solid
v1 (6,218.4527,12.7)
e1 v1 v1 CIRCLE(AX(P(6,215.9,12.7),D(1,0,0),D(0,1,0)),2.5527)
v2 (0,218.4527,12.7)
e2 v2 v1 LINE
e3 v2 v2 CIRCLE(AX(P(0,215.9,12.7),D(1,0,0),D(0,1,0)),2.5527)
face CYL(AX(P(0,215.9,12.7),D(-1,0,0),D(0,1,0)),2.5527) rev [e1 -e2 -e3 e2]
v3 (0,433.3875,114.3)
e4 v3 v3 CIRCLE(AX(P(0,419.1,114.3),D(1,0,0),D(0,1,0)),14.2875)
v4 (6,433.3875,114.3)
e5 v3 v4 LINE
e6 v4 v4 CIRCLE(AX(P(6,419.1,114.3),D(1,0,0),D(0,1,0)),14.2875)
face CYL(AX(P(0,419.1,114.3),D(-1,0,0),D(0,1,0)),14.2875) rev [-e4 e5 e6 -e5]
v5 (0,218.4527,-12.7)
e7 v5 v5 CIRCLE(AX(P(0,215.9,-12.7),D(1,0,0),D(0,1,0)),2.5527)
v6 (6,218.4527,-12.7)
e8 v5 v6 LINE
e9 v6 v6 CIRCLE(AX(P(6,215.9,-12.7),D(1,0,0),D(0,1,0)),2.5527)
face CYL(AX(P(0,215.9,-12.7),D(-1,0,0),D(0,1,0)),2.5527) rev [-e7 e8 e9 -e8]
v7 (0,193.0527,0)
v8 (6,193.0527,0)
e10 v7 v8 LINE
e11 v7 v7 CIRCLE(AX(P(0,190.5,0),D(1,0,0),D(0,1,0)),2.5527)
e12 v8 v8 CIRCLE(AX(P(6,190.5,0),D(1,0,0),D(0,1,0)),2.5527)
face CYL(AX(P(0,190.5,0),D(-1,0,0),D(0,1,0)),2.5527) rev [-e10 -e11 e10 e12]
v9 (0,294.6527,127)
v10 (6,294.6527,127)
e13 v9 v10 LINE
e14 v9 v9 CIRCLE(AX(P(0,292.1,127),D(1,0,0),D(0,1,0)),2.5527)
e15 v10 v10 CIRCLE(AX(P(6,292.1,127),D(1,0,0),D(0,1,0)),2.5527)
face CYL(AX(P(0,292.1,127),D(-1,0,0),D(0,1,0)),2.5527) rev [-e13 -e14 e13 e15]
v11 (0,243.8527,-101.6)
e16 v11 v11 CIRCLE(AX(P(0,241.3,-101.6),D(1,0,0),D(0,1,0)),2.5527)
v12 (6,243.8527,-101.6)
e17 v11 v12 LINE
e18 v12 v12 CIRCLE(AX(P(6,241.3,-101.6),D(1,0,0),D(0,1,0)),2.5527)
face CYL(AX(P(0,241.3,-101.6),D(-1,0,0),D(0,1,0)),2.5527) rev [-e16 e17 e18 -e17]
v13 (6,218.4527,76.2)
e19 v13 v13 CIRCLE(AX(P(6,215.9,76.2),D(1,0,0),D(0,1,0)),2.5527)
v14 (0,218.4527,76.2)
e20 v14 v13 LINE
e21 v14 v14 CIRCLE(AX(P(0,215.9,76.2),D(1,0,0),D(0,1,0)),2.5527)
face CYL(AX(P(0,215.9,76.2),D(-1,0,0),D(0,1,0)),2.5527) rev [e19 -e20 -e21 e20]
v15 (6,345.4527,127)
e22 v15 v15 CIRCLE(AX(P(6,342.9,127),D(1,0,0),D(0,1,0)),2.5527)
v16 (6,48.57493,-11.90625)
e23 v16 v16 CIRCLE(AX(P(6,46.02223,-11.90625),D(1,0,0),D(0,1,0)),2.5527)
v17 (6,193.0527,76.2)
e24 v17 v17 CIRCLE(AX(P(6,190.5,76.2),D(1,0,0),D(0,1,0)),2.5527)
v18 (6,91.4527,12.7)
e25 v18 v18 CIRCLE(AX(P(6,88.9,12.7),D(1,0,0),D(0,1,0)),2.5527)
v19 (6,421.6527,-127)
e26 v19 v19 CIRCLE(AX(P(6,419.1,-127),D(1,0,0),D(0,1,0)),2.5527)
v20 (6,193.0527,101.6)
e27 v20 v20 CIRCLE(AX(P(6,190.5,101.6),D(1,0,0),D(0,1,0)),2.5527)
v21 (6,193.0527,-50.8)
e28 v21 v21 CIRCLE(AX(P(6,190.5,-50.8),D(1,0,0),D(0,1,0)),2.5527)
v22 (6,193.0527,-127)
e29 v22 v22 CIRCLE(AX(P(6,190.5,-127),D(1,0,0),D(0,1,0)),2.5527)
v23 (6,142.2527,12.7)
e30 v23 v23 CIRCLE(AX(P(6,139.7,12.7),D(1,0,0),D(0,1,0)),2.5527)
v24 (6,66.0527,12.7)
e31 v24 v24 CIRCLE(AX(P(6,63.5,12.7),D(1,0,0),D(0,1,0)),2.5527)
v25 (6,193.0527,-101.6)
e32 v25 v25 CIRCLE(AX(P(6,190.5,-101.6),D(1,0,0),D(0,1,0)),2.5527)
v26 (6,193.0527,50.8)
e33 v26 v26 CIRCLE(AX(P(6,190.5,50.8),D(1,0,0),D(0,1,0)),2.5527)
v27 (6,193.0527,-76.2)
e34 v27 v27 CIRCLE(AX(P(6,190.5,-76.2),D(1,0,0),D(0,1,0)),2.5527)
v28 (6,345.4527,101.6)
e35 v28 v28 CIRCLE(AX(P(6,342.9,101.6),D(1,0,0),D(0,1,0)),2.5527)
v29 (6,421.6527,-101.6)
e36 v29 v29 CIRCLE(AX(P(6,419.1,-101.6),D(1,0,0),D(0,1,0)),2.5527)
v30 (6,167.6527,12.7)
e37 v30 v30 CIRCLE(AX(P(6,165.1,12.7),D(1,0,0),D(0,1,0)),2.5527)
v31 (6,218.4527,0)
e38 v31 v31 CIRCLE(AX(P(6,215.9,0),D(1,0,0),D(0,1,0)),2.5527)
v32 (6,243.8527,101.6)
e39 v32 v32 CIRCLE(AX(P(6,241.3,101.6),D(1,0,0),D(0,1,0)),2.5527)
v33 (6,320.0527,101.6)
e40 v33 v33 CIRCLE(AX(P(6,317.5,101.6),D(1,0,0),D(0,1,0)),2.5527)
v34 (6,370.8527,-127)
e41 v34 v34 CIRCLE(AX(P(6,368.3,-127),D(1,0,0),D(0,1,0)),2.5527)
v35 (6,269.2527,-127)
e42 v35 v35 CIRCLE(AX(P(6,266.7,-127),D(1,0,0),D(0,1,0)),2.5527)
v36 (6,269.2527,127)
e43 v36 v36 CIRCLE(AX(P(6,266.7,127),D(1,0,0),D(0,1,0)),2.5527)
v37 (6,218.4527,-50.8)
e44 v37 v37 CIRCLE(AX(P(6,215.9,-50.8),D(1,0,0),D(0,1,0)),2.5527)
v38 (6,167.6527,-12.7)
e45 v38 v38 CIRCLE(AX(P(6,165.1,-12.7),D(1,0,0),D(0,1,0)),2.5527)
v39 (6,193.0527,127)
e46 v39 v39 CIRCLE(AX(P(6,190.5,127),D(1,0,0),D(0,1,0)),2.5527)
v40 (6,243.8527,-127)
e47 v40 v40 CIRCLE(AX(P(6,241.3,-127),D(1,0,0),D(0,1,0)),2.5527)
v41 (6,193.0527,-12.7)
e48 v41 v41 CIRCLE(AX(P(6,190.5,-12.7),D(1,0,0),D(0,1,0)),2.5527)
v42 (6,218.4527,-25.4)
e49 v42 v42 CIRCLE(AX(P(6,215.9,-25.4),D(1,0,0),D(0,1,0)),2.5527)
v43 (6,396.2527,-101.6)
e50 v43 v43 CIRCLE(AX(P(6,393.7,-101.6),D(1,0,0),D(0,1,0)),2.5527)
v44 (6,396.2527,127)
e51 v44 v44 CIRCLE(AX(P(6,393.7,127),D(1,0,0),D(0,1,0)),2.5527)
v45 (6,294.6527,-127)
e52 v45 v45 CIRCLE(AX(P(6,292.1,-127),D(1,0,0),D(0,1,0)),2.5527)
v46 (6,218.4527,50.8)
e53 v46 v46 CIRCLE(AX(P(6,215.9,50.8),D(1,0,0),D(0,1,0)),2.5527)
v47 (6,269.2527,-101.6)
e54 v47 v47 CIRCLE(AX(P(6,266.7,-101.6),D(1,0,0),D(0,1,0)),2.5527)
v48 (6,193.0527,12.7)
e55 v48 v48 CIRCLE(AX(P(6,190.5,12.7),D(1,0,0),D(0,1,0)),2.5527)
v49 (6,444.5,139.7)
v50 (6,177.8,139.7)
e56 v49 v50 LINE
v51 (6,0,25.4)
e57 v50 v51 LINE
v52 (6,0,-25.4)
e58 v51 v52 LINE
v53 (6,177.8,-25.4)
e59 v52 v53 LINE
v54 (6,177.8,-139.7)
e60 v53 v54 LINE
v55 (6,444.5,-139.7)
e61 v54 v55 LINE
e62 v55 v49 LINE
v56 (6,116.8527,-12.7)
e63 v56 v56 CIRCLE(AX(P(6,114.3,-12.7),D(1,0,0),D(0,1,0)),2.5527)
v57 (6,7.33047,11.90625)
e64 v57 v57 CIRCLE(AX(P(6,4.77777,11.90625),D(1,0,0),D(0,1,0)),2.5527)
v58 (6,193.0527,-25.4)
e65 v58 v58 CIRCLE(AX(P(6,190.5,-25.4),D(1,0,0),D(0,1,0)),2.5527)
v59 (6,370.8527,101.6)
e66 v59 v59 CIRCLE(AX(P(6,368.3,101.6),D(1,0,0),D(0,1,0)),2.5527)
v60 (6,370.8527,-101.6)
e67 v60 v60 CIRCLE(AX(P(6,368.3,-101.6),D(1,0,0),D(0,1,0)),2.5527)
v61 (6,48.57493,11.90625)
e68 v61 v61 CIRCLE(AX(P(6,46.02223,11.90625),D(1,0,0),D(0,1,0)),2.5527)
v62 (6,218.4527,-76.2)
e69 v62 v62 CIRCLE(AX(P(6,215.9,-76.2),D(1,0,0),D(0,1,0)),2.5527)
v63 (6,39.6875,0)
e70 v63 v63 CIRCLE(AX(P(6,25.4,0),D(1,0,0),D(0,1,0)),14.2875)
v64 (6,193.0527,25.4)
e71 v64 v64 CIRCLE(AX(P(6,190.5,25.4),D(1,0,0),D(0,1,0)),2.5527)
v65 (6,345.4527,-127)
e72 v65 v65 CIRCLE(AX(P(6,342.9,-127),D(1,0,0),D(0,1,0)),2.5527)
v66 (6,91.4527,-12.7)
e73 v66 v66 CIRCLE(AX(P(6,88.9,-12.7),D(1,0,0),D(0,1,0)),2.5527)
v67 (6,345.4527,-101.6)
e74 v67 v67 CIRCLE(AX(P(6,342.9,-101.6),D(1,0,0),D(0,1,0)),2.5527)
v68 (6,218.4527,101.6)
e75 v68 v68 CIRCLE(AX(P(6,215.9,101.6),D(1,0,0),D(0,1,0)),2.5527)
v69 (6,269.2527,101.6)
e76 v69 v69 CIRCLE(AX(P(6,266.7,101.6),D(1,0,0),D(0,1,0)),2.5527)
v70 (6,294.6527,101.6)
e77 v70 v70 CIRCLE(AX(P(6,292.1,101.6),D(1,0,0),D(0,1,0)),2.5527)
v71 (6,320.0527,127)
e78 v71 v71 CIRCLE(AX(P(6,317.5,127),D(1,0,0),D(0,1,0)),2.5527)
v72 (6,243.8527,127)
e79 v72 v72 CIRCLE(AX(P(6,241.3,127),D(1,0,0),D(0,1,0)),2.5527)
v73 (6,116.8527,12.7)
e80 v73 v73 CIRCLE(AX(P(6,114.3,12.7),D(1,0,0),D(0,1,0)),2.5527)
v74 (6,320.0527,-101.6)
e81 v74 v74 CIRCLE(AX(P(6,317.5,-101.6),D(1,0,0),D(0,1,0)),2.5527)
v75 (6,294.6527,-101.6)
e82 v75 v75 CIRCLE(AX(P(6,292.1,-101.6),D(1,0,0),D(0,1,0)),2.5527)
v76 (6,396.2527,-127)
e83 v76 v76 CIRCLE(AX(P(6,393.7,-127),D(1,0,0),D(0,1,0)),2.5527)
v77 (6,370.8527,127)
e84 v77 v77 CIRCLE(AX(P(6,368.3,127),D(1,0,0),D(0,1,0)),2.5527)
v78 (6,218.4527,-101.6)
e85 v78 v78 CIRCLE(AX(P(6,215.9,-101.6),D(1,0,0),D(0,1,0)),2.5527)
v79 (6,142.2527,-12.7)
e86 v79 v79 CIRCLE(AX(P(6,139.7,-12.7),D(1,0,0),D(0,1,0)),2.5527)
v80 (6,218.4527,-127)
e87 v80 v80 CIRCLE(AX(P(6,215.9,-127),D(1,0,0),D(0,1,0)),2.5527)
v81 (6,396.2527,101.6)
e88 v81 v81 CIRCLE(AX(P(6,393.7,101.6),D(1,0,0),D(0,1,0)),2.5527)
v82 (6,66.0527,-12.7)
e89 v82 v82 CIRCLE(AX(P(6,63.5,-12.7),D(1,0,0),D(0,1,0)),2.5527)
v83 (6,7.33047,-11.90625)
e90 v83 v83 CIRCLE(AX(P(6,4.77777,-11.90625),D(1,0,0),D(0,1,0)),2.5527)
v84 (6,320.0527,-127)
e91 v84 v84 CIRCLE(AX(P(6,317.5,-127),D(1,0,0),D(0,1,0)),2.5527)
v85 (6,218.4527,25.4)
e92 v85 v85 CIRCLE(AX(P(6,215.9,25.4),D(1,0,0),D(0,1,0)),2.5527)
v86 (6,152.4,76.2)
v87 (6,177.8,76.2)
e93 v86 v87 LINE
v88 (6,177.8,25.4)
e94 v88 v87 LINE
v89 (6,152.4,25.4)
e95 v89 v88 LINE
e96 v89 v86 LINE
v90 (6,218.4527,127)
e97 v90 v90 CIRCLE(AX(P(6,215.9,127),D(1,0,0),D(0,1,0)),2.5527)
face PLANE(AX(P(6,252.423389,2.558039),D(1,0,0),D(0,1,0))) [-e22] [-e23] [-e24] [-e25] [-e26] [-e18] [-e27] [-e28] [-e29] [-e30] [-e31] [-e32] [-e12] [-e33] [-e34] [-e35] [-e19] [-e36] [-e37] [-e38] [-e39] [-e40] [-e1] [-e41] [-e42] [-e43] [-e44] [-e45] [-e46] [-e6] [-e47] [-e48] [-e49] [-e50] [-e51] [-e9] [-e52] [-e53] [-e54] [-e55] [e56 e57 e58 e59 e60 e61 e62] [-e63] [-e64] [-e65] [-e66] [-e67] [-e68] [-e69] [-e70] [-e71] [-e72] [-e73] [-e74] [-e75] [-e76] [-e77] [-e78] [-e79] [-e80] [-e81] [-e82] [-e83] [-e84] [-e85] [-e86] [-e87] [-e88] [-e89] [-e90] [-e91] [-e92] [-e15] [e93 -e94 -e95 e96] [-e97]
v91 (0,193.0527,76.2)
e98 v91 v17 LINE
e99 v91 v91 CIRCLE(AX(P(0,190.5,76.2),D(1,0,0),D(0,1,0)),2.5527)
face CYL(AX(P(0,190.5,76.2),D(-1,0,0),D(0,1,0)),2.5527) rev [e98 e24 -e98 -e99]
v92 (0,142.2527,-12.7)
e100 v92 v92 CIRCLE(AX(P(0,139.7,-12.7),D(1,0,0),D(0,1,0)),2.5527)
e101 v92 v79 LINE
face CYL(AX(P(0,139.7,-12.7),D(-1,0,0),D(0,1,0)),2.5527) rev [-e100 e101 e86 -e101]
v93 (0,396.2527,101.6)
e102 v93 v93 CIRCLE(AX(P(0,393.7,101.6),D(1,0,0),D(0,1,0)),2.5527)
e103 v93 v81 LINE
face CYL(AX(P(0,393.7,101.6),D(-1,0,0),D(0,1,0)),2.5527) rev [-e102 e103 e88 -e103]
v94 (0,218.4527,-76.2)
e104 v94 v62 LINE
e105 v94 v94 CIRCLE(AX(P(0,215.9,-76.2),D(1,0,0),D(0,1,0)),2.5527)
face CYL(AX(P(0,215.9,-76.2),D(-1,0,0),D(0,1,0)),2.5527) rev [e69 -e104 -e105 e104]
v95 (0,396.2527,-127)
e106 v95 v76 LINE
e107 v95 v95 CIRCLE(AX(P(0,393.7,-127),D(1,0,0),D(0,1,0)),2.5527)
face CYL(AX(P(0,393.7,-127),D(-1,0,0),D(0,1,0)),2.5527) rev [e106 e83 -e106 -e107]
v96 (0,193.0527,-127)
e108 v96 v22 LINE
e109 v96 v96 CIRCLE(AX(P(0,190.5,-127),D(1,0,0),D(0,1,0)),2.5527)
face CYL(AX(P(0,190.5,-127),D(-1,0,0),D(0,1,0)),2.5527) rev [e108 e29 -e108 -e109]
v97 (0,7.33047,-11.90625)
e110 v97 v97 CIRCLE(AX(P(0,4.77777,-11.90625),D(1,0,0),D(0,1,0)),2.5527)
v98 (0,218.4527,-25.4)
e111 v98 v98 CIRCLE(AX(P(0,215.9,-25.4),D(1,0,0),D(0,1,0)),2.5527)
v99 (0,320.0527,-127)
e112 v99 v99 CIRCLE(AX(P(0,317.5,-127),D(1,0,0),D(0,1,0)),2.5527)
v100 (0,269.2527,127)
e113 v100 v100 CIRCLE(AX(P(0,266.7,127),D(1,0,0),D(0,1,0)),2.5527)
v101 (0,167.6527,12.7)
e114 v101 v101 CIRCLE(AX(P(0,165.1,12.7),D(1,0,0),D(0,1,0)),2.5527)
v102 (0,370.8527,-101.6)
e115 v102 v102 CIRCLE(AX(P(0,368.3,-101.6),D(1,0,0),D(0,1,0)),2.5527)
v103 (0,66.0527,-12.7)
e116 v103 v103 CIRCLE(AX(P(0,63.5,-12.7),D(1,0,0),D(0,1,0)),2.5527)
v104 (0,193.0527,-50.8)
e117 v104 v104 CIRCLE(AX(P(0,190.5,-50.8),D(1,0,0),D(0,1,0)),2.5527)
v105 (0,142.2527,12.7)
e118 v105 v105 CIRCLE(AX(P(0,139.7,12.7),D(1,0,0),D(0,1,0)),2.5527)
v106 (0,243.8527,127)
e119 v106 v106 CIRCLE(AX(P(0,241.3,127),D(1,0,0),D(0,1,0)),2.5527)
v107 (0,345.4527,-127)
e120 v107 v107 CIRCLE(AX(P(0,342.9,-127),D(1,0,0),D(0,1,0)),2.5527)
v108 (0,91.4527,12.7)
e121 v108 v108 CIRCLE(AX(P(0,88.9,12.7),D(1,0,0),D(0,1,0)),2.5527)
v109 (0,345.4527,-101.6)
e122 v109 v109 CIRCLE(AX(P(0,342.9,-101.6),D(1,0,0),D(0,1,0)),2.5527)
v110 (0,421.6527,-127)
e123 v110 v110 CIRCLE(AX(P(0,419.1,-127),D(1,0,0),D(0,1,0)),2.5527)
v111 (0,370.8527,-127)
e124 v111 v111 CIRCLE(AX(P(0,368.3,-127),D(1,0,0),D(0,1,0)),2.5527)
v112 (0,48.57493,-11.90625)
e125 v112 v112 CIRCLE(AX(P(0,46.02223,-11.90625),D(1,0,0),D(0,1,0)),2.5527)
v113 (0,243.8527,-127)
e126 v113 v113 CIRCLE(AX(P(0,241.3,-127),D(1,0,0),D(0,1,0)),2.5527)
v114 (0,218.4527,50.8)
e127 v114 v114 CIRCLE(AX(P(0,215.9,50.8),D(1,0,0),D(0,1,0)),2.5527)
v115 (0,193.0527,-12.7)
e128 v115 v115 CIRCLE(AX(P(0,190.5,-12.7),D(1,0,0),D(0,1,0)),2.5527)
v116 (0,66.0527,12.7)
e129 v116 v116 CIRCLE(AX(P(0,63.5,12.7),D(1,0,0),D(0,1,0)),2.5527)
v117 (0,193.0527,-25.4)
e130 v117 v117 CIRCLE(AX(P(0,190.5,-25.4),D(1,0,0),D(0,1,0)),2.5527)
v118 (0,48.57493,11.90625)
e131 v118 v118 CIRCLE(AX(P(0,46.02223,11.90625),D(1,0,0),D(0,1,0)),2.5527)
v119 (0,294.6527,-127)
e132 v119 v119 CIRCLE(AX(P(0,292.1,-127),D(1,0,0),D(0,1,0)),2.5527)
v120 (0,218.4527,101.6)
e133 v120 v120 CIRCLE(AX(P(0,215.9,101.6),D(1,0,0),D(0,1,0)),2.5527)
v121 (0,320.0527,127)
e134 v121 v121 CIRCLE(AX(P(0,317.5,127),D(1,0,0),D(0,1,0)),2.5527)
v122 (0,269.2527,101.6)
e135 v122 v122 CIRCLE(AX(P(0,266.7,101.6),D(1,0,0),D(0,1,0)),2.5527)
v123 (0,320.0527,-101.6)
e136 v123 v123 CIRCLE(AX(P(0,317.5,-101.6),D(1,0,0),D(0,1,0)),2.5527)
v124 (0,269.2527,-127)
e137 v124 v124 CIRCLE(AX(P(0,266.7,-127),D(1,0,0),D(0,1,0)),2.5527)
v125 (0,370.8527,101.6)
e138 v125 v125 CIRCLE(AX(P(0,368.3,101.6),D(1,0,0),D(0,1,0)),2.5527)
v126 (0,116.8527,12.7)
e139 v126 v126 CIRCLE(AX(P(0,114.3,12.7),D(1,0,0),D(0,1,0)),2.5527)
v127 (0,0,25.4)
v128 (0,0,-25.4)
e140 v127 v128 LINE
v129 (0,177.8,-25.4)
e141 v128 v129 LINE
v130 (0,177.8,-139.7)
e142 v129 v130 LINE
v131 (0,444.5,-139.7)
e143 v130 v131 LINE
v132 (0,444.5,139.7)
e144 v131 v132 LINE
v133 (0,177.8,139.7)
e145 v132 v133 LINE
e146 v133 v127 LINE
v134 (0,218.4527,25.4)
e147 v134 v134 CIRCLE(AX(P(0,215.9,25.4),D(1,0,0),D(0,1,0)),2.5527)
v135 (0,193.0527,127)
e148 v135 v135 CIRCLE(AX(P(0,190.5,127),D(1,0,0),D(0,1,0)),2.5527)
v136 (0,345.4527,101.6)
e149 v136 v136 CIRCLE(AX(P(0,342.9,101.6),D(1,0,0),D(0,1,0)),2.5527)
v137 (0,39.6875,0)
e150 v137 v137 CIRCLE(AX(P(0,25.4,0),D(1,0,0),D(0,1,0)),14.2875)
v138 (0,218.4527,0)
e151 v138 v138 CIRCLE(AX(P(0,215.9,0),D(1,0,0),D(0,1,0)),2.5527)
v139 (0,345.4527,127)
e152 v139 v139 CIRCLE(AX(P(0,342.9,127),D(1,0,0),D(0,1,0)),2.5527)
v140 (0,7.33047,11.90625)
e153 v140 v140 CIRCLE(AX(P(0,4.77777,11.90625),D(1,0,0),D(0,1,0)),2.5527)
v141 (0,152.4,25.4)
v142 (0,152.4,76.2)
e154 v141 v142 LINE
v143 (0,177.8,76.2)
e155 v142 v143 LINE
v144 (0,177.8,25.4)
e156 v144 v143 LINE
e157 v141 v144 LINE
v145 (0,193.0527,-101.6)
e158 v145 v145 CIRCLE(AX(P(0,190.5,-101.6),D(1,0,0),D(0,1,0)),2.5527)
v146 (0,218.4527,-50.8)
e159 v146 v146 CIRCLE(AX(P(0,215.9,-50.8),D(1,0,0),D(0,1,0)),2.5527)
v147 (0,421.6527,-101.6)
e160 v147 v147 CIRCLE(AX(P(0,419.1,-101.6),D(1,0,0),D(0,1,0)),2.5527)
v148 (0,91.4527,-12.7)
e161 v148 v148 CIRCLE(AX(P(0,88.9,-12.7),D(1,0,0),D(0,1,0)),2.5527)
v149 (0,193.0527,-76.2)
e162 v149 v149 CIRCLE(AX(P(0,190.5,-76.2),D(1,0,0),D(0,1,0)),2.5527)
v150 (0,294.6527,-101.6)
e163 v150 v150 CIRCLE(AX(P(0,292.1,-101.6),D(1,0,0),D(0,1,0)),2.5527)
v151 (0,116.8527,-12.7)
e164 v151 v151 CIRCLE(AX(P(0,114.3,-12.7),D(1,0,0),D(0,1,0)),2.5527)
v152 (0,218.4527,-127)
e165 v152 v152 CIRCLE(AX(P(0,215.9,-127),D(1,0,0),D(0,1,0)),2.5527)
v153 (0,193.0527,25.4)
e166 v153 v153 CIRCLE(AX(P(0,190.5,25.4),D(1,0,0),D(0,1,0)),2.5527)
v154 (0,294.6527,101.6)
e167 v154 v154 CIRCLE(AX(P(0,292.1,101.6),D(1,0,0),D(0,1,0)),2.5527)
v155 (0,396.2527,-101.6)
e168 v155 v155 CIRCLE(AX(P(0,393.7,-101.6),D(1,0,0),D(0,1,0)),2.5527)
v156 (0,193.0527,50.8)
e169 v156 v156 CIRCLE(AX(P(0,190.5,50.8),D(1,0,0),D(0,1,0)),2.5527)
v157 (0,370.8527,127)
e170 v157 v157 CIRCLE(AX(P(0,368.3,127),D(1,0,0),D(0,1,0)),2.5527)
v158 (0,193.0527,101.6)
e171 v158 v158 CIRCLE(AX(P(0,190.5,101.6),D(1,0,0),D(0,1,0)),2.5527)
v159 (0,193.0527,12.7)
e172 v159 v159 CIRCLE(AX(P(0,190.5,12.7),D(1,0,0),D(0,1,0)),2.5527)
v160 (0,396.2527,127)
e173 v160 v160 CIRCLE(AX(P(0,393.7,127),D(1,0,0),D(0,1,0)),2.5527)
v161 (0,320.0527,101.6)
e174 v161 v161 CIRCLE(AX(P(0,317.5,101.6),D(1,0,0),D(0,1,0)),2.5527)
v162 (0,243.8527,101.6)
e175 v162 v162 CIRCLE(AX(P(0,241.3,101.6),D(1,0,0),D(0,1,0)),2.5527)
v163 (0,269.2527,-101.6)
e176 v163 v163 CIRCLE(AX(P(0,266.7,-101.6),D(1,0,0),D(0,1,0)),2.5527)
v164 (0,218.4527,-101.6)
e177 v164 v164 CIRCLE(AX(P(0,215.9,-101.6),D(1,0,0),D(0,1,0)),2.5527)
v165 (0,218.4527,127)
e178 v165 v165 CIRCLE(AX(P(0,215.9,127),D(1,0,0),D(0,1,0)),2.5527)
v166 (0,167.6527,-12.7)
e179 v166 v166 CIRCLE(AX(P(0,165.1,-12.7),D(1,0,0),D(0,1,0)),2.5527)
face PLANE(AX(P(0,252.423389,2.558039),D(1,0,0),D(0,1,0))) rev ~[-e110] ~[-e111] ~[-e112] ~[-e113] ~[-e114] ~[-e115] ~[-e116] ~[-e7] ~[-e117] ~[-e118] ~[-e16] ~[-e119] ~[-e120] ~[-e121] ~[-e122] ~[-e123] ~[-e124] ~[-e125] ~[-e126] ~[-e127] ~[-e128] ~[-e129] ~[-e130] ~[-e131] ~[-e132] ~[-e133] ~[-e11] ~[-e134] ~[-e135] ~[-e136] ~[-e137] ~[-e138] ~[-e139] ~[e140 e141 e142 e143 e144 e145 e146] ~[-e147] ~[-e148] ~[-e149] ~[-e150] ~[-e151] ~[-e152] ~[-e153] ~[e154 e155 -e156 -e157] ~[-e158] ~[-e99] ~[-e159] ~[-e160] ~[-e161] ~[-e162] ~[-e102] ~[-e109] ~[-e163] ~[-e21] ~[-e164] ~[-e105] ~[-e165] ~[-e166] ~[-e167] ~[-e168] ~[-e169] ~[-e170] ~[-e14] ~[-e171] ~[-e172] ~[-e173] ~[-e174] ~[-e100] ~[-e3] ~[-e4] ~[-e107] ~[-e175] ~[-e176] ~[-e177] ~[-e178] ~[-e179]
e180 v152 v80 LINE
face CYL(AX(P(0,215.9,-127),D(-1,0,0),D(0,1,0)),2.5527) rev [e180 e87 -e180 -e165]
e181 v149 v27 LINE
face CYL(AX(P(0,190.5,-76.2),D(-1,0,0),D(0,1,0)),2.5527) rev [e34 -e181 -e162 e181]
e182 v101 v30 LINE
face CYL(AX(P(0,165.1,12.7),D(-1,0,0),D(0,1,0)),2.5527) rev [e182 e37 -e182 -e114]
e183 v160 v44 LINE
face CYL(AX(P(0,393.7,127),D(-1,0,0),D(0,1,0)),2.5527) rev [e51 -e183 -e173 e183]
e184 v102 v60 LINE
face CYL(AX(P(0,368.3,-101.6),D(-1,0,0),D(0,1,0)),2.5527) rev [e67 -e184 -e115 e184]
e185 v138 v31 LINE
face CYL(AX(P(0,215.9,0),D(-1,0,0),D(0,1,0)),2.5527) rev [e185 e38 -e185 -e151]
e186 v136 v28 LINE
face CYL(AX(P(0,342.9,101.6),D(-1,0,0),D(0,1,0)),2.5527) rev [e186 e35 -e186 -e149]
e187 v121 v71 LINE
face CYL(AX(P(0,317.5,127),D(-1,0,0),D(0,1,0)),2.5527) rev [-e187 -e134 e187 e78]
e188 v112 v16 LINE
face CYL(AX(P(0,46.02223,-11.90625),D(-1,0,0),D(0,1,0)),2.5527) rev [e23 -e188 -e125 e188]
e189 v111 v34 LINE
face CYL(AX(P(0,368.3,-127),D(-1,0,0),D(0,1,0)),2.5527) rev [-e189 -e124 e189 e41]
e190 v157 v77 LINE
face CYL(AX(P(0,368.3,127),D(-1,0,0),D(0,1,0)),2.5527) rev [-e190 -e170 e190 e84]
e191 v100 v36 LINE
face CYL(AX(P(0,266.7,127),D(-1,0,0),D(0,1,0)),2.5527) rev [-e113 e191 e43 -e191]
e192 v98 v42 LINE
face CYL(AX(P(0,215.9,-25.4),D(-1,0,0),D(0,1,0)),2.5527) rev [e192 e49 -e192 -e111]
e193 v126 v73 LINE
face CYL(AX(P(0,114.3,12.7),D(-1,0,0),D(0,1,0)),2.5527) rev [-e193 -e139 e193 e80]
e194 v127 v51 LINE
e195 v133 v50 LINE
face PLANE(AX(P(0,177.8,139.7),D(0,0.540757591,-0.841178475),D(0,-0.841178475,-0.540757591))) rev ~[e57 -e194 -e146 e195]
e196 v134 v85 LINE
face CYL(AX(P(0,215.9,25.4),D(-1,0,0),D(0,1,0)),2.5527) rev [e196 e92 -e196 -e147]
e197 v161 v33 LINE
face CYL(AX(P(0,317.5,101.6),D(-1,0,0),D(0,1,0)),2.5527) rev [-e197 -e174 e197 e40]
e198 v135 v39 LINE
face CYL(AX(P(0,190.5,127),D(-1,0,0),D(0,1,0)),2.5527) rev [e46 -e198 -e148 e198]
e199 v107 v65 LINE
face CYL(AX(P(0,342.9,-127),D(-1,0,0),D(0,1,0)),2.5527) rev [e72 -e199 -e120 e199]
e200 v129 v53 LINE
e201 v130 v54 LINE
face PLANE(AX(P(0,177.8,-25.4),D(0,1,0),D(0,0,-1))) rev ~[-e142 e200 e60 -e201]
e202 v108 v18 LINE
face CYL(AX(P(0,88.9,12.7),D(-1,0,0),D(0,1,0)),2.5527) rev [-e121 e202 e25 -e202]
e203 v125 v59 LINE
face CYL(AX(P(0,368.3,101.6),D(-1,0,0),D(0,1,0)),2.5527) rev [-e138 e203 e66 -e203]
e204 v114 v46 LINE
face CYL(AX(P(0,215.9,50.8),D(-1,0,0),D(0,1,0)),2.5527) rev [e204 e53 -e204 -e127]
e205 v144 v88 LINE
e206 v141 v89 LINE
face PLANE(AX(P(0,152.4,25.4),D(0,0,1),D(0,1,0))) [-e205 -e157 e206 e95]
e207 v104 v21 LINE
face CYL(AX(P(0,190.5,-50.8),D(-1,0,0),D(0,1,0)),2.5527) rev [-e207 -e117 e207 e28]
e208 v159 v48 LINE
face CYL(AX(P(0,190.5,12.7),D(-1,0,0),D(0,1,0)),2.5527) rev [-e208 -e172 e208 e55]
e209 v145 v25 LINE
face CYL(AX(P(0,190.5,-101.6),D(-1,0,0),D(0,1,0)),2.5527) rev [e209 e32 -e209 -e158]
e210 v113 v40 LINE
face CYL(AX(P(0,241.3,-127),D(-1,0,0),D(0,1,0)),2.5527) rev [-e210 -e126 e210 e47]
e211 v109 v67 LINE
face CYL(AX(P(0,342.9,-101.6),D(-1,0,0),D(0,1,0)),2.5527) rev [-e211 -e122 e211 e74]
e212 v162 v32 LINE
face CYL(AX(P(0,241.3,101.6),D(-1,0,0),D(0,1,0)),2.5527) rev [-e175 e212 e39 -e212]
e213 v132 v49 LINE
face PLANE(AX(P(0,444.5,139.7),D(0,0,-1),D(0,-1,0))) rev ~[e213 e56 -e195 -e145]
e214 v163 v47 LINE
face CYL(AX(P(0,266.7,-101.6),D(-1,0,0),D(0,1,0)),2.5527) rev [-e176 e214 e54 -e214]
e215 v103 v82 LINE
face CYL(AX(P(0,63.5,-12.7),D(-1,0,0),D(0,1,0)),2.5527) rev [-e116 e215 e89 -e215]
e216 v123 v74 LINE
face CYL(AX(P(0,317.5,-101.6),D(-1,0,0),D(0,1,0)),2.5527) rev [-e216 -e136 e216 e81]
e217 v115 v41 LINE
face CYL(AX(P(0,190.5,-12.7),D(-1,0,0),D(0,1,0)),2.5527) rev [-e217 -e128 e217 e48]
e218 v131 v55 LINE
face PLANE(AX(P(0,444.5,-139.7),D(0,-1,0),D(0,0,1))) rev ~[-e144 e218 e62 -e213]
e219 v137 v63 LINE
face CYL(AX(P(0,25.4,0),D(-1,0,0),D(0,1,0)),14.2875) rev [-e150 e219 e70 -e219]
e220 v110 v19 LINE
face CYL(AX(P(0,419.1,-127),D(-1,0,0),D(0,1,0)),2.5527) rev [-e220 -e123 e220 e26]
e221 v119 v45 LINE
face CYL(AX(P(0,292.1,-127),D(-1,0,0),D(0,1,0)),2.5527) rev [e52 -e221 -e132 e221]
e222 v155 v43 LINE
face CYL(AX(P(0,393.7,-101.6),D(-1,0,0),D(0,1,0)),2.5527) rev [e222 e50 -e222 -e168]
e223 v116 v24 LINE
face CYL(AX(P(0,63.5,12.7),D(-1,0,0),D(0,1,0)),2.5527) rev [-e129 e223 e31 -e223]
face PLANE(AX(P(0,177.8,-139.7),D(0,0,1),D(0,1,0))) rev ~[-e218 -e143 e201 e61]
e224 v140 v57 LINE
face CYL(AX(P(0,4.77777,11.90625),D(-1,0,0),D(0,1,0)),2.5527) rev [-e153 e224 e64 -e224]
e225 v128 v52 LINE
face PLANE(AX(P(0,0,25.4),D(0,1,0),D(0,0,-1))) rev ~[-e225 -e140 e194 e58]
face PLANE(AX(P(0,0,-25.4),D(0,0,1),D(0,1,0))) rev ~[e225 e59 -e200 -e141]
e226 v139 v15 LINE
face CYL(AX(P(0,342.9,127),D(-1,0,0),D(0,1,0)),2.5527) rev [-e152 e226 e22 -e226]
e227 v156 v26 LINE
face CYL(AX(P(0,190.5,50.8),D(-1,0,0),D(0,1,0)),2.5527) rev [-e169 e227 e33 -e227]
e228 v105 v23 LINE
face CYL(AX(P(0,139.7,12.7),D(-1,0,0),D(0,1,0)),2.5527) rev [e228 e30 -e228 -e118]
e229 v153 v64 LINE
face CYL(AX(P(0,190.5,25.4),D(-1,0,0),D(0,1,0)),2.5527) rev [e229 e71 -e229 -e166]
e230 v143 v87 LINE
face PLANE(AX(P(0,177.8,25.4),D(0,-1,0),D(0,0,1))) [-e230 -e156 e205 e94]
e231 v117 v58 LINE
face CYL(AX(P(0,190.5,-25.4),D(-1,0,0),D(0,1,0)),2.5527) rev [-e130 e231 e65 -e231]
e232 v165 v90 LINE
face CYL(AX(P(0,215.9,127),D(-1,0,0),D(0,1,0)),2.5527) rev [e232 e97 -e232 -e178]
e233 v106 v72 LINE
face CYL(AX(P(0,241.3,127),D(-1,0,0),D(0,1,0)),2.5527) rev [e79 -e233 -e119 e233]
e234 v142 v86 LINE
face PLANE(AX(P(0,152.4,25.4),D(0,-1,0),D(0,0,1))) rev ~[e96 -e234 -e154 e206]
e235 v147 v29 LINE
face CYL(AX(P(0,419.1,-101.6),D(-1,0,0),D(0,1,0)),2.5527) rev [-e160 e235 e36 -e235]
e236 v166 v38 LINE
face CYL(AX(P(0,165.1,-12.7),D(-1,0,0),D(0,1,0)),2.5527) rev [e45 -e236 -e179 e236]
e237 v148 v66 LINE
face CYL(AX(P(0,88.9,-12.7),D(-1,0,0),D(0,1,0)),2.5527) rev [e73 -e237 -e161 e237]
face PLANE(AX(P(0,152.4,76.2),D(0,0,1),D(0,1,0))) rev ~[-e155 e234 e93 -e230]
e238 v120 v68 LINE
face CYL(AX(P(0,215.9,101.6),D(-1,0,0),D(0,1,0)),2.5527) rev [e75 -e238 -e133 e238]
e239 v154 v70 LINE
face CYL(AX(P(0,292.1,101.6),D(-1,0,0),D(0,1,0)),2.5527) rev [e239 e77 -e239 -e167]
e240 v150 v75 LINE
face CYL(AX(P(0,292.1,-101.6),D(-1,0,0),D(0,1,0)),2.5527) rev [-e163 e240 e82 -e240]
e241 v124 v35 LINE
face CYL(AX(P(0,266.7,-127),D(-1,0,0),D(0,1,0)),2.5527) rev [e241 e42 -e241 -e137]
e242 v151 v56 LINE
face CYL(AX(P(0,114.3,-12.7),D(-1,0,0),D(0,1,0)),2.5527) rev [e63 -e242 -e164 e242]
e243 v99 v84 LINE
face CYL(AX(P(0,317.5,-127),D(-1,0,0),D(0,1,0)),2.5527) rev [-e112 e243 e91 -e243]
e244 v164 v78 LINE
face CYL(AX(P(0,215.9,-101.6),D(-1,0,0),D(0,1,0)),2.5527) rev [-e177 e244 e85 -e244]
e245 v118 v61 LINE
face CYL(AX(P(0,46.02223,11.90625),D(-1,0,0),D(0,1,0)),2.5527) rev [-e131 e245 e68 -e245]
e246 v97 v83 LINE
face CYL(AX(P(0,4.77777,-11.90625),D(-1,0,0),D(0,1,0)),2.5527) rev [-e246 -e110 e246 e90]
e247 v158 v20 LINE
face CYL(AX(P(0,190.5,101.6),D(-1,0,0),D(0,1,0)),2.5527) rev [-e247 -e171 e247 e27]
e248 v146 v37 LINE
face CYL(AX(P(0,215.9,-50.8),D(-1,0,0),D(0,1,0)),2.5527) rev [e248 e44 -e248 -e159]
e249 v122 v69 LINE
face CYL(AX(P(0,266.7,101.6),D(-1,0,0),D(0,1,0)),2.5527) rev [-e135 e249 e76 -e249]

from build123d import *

# Parameters (mm, degrees)
F0_R     = 2.5527
F0_R_2   = 14.2875
F0_W     = 25.4
F0_H     = 50.8
F1_DEPTH = 6


with BuildPart() as f1:
    # F0 (on Right) → F1 (new body)
    with BuildSketch(Plane.YZ):
        Polygon((177.8, 139.7), (0, 25.4), (0, -25.4), (177.8, -25.4), (177.8, -139.7), (444.5, -139.7), (444.5, 139.7), align=None)
        with Locations((190.5, -127)):
            Circle(F0_R, mode=Mode.SUBTRACT)
        with Locations((215.9, -127)):
            Circle(F0_R, mode=Mode.SUBTRACT)
        with Locations((190.5, -101.6)):
            Circle(F0_R, mode=Mode.SUBTRACT)
        with Locations((215.9, -101.6)):
            Circle(F0_R, mode=Mode.SUBTRACT)
        with Locations((190.5, -76.2)):
            Circle(F0_R, mode=Mode.SUBTRACT)
        with Locations((215.9, -76.2)):
            Circle(F0_R, mode=Mode.SUBTRACT)
        with Locations((4.77777, -11.90625)):
            Circle(F0_R, mode=Mode.SUBTRACT)
        with Locations((46.02223, -11.90625)):
            Circle(F0_R, mode=Mode.SUBTRACT)
        with Locations((63.5, -12.7)):
            Circle(F0_R, mode=Mode.SUBTRACT)
        with Locations((88.9, -12.7)):
            Circle(F0_R, mode=Mode.SUBTRACT)
        with Locations((190.5, -50.8)):
            Circle(F0_R, mode=Mode.SUBTRACT)
        with Locations((215.9, -50.8)):
            Circle(F0_R, mode=Mode.SUBTRACT)
        with Locations((114.3, -12.7)):
            Circle(F0_R, mode=Mode.SUBTRACT)
        with Locations((139.7, -12.7)):
            Circle(F0_R, mode=Mode.SUBTRACT)
        with Locations((165.1, -12.7)):
            Circle(F0_R, mode=Mode.SUBTRACT)
        with Locations((190.5, -25.4)):
            Circle(F0_R, mode=Mode.SUBTRACT)
        with Locations((215.9, -25.4)):
            Circle(F0_R, mode=Mode.SUBTRACT)
        with Locations((190.5, -12.7)):
            Circle(F0_R, mode=Mode.SUBTRACT)
        with Locations((215.9, -12.7)):
            Circle(F0_R, mode=Mode.SUBTRACT)
        with Locations((241.3, -127)):
            Circle(F0_R, mode=Mode.SUBTRACT)
        with Locations((266.7, -127)):
            Circle(F0_R, mode=Mode.SUBTRACT)
        with Locations((292.1, -127)):
            Circle(F0_R, mode=Mode.SUBTRACT)
        with Locations((317.5, -127)):
            Circle(F0_R, mode=Mode.SUBTRACT)
        with Locations((241.3, -101.6)):
            Circle(F0_R, mode=Mode.SUBTRACT)
        with Locations((266.7, -101.6)):
            Circle(F0_R, mode=Mode.SUBTRACT)
        with Locations((292.1, -101.6)):
            Circle(F0_R, mode=Mode.SUBTRACT)
        with Locations((317.5, -101.6)):
            Circle(F0_R, mode=Mode.SUBTRACT)
        with Locations((342.9, -127)):
            Circle(F0_R, mode=Mode.SUBTRACT)
        with Locations((368.3, -127)):
            Circle(F0_R, mode=Mode.SUBTRACT)
        with Locations((393.7, -127)):
            Circle(F0_R, mode=Mode.SUBTRACT)
        with Locations((419.1, -127)):
            Circle(F0_R, mode=Mode.SUBTRACT)
        with Locations((342.9, -101.6)):
            Circle(F0_R, mode=Mode.SUBTRACT)
        with Locations((368.3, -101.6)):
            Circle(F0_R, mode=Mode.SUBTRACT)
        with Locations((393.7, -101.6)):
            Circle(F0_R, mode=Mode.SUBTRACT)
        with Locations((419.1, -101.6)):
            Circle(F0_R, mode=Mode.SUBTRACT)
        with Locations((25.4, 0)):
            Circle(F0_R_2, mode=Mode.SUBTRACT)
        with Locations((4.77777, 11.90625)):
            Circle(F0_R, mode=Mode.SUBTRACT)
        with Locations((46.02223, 11.90625)):
            Circle(F0_R, mode=Mode.SUBTRACT)
        with Locations((63.5, 12.7)):
            Circle(F0_R, mode=Mode.SUBTRACT)
        with Locations((88.9, 12.7)):
            Circle(F0_R, mode=Mode.SUBTRACT)
        with Locations((114.3, 12.7)):
            Circle(F0_R, mode=Mode.SUBTRACT)
        with Locations((139.7, 12.7)):
            Circle(F0_R, mode=Mode.SUBTRACT)
        with Locations((165.1, 12.7)):
            Circle(F0_R, mode=Mode.SUBTRACT)
        with Locations((190.5, 0)):
            Circle(F0_R, mode=Mode.SUBTRACT)
        with Locations((190.5, 12.7)):
            Circle(F0_R, mode=Mode.SUBTRACT)
        with Locations((215.9, 0)):
            Circle(F0_R, mode=Mode.SUBTRACT)
        with Locations((215.9, 12.7)):
            Circle(F0_R, mode=Mode.SUBTRACT)
        with Locations((190.5, 25.4)):
            Circle(F0_R, mode=Mode.SUBTRACT)
        with Locations((215.9, 25.4)):
            Circle(F0_R, mode=Mode.SUBTRACT)
        with Locations((165.1, 50.8)):
            Rectangle(F0_W, F0_H, mode=Mode.SUBTRACT)
        with Locations((190.5, 50.8)):
            Circle(F0_R, mode=Mode.SUBTRACT)
        with Locations((215.9, 50.8)):
            Circle(F0_R, mode=Mode.SUBTRACT)
        with Locations((190.5, 76.2)):
            Circle(F0_R, mode=Mode.SUBTRACT)
        with Locations((215.9, 76.2)):
            Circle(F0_R, mode=Mode.SUBTRACT)
        with Locations((190.5, 101.6)):
            Circle(F0_R, mode=Mode.SUBTRACT)
        with Locations((215.9, 101.6)):
            Circle(F0_R, mode=Mode.SUBTRACT)
        with Locations((190.5, 127)):
            Circle(F0_R, mode=Mode.SUBTRACT)
        with Locations((215.9, 127)):
            Circle(F0_R, mode=Mode.SUBTRACT)
        with Locations((241.3, 101.6)):
            Circle(F0_R, mode=Mode.SUBTRACT)
        with Locations((266.7, 101.6)):
            Circle(F0_R, mode=Mode.SUBTRACT)
        with Locations((292.1, 101.6)):
            Circle(F0_R, mode=Mode.SUBTRACT)
        with Locations((317.5, 101.6)):
            Circle(F0_R, mode=Mode.SUBTRACT)
        with Locations((241.3, 127)):
            Circle(F0_R, mode=Mode.SUBTRACT)
        with Locations((266.7, 127)):
            Circle(F0_R, mode=Mode.SUBTRACT)
        with Locations((292.1, 127)):
            Circle(F0_R, mode=Mode.SUBTRACT)
        with Locations((317.5, 127)):
            Circle(F0_R, mode=Mode.SUBTRACT)
        with Locations((342.9, 101.6)):
            Circle(F0_R, mode=Mode.SUBTRACT)
        with Locations((368.3, 101.6)):
            Circle(F0_R, mode=Mode.SUBTRACT)
        with Locations((393.7, 101.6)):
            Circle(F0_R, mode=Mode.SUBTRACT)
        with Locations((342.9, 127)):
            Circle(F0_R, mode=Mode.SUBTRACT)
        with Locations((368.3, 127)):
            Circle(F0_R, mode=Mode.SUBTRACT)
        with Locations((419.1, 114.3)):
            Circle(F0_R_2, mode=Mode.SUBTRACT)
        with Locations((393.7, 127)):
            Circle(F0_R, mode=Mode.SUBTRACT)
    extrude(amount=F1_DEPTH)


solid = f1.part
